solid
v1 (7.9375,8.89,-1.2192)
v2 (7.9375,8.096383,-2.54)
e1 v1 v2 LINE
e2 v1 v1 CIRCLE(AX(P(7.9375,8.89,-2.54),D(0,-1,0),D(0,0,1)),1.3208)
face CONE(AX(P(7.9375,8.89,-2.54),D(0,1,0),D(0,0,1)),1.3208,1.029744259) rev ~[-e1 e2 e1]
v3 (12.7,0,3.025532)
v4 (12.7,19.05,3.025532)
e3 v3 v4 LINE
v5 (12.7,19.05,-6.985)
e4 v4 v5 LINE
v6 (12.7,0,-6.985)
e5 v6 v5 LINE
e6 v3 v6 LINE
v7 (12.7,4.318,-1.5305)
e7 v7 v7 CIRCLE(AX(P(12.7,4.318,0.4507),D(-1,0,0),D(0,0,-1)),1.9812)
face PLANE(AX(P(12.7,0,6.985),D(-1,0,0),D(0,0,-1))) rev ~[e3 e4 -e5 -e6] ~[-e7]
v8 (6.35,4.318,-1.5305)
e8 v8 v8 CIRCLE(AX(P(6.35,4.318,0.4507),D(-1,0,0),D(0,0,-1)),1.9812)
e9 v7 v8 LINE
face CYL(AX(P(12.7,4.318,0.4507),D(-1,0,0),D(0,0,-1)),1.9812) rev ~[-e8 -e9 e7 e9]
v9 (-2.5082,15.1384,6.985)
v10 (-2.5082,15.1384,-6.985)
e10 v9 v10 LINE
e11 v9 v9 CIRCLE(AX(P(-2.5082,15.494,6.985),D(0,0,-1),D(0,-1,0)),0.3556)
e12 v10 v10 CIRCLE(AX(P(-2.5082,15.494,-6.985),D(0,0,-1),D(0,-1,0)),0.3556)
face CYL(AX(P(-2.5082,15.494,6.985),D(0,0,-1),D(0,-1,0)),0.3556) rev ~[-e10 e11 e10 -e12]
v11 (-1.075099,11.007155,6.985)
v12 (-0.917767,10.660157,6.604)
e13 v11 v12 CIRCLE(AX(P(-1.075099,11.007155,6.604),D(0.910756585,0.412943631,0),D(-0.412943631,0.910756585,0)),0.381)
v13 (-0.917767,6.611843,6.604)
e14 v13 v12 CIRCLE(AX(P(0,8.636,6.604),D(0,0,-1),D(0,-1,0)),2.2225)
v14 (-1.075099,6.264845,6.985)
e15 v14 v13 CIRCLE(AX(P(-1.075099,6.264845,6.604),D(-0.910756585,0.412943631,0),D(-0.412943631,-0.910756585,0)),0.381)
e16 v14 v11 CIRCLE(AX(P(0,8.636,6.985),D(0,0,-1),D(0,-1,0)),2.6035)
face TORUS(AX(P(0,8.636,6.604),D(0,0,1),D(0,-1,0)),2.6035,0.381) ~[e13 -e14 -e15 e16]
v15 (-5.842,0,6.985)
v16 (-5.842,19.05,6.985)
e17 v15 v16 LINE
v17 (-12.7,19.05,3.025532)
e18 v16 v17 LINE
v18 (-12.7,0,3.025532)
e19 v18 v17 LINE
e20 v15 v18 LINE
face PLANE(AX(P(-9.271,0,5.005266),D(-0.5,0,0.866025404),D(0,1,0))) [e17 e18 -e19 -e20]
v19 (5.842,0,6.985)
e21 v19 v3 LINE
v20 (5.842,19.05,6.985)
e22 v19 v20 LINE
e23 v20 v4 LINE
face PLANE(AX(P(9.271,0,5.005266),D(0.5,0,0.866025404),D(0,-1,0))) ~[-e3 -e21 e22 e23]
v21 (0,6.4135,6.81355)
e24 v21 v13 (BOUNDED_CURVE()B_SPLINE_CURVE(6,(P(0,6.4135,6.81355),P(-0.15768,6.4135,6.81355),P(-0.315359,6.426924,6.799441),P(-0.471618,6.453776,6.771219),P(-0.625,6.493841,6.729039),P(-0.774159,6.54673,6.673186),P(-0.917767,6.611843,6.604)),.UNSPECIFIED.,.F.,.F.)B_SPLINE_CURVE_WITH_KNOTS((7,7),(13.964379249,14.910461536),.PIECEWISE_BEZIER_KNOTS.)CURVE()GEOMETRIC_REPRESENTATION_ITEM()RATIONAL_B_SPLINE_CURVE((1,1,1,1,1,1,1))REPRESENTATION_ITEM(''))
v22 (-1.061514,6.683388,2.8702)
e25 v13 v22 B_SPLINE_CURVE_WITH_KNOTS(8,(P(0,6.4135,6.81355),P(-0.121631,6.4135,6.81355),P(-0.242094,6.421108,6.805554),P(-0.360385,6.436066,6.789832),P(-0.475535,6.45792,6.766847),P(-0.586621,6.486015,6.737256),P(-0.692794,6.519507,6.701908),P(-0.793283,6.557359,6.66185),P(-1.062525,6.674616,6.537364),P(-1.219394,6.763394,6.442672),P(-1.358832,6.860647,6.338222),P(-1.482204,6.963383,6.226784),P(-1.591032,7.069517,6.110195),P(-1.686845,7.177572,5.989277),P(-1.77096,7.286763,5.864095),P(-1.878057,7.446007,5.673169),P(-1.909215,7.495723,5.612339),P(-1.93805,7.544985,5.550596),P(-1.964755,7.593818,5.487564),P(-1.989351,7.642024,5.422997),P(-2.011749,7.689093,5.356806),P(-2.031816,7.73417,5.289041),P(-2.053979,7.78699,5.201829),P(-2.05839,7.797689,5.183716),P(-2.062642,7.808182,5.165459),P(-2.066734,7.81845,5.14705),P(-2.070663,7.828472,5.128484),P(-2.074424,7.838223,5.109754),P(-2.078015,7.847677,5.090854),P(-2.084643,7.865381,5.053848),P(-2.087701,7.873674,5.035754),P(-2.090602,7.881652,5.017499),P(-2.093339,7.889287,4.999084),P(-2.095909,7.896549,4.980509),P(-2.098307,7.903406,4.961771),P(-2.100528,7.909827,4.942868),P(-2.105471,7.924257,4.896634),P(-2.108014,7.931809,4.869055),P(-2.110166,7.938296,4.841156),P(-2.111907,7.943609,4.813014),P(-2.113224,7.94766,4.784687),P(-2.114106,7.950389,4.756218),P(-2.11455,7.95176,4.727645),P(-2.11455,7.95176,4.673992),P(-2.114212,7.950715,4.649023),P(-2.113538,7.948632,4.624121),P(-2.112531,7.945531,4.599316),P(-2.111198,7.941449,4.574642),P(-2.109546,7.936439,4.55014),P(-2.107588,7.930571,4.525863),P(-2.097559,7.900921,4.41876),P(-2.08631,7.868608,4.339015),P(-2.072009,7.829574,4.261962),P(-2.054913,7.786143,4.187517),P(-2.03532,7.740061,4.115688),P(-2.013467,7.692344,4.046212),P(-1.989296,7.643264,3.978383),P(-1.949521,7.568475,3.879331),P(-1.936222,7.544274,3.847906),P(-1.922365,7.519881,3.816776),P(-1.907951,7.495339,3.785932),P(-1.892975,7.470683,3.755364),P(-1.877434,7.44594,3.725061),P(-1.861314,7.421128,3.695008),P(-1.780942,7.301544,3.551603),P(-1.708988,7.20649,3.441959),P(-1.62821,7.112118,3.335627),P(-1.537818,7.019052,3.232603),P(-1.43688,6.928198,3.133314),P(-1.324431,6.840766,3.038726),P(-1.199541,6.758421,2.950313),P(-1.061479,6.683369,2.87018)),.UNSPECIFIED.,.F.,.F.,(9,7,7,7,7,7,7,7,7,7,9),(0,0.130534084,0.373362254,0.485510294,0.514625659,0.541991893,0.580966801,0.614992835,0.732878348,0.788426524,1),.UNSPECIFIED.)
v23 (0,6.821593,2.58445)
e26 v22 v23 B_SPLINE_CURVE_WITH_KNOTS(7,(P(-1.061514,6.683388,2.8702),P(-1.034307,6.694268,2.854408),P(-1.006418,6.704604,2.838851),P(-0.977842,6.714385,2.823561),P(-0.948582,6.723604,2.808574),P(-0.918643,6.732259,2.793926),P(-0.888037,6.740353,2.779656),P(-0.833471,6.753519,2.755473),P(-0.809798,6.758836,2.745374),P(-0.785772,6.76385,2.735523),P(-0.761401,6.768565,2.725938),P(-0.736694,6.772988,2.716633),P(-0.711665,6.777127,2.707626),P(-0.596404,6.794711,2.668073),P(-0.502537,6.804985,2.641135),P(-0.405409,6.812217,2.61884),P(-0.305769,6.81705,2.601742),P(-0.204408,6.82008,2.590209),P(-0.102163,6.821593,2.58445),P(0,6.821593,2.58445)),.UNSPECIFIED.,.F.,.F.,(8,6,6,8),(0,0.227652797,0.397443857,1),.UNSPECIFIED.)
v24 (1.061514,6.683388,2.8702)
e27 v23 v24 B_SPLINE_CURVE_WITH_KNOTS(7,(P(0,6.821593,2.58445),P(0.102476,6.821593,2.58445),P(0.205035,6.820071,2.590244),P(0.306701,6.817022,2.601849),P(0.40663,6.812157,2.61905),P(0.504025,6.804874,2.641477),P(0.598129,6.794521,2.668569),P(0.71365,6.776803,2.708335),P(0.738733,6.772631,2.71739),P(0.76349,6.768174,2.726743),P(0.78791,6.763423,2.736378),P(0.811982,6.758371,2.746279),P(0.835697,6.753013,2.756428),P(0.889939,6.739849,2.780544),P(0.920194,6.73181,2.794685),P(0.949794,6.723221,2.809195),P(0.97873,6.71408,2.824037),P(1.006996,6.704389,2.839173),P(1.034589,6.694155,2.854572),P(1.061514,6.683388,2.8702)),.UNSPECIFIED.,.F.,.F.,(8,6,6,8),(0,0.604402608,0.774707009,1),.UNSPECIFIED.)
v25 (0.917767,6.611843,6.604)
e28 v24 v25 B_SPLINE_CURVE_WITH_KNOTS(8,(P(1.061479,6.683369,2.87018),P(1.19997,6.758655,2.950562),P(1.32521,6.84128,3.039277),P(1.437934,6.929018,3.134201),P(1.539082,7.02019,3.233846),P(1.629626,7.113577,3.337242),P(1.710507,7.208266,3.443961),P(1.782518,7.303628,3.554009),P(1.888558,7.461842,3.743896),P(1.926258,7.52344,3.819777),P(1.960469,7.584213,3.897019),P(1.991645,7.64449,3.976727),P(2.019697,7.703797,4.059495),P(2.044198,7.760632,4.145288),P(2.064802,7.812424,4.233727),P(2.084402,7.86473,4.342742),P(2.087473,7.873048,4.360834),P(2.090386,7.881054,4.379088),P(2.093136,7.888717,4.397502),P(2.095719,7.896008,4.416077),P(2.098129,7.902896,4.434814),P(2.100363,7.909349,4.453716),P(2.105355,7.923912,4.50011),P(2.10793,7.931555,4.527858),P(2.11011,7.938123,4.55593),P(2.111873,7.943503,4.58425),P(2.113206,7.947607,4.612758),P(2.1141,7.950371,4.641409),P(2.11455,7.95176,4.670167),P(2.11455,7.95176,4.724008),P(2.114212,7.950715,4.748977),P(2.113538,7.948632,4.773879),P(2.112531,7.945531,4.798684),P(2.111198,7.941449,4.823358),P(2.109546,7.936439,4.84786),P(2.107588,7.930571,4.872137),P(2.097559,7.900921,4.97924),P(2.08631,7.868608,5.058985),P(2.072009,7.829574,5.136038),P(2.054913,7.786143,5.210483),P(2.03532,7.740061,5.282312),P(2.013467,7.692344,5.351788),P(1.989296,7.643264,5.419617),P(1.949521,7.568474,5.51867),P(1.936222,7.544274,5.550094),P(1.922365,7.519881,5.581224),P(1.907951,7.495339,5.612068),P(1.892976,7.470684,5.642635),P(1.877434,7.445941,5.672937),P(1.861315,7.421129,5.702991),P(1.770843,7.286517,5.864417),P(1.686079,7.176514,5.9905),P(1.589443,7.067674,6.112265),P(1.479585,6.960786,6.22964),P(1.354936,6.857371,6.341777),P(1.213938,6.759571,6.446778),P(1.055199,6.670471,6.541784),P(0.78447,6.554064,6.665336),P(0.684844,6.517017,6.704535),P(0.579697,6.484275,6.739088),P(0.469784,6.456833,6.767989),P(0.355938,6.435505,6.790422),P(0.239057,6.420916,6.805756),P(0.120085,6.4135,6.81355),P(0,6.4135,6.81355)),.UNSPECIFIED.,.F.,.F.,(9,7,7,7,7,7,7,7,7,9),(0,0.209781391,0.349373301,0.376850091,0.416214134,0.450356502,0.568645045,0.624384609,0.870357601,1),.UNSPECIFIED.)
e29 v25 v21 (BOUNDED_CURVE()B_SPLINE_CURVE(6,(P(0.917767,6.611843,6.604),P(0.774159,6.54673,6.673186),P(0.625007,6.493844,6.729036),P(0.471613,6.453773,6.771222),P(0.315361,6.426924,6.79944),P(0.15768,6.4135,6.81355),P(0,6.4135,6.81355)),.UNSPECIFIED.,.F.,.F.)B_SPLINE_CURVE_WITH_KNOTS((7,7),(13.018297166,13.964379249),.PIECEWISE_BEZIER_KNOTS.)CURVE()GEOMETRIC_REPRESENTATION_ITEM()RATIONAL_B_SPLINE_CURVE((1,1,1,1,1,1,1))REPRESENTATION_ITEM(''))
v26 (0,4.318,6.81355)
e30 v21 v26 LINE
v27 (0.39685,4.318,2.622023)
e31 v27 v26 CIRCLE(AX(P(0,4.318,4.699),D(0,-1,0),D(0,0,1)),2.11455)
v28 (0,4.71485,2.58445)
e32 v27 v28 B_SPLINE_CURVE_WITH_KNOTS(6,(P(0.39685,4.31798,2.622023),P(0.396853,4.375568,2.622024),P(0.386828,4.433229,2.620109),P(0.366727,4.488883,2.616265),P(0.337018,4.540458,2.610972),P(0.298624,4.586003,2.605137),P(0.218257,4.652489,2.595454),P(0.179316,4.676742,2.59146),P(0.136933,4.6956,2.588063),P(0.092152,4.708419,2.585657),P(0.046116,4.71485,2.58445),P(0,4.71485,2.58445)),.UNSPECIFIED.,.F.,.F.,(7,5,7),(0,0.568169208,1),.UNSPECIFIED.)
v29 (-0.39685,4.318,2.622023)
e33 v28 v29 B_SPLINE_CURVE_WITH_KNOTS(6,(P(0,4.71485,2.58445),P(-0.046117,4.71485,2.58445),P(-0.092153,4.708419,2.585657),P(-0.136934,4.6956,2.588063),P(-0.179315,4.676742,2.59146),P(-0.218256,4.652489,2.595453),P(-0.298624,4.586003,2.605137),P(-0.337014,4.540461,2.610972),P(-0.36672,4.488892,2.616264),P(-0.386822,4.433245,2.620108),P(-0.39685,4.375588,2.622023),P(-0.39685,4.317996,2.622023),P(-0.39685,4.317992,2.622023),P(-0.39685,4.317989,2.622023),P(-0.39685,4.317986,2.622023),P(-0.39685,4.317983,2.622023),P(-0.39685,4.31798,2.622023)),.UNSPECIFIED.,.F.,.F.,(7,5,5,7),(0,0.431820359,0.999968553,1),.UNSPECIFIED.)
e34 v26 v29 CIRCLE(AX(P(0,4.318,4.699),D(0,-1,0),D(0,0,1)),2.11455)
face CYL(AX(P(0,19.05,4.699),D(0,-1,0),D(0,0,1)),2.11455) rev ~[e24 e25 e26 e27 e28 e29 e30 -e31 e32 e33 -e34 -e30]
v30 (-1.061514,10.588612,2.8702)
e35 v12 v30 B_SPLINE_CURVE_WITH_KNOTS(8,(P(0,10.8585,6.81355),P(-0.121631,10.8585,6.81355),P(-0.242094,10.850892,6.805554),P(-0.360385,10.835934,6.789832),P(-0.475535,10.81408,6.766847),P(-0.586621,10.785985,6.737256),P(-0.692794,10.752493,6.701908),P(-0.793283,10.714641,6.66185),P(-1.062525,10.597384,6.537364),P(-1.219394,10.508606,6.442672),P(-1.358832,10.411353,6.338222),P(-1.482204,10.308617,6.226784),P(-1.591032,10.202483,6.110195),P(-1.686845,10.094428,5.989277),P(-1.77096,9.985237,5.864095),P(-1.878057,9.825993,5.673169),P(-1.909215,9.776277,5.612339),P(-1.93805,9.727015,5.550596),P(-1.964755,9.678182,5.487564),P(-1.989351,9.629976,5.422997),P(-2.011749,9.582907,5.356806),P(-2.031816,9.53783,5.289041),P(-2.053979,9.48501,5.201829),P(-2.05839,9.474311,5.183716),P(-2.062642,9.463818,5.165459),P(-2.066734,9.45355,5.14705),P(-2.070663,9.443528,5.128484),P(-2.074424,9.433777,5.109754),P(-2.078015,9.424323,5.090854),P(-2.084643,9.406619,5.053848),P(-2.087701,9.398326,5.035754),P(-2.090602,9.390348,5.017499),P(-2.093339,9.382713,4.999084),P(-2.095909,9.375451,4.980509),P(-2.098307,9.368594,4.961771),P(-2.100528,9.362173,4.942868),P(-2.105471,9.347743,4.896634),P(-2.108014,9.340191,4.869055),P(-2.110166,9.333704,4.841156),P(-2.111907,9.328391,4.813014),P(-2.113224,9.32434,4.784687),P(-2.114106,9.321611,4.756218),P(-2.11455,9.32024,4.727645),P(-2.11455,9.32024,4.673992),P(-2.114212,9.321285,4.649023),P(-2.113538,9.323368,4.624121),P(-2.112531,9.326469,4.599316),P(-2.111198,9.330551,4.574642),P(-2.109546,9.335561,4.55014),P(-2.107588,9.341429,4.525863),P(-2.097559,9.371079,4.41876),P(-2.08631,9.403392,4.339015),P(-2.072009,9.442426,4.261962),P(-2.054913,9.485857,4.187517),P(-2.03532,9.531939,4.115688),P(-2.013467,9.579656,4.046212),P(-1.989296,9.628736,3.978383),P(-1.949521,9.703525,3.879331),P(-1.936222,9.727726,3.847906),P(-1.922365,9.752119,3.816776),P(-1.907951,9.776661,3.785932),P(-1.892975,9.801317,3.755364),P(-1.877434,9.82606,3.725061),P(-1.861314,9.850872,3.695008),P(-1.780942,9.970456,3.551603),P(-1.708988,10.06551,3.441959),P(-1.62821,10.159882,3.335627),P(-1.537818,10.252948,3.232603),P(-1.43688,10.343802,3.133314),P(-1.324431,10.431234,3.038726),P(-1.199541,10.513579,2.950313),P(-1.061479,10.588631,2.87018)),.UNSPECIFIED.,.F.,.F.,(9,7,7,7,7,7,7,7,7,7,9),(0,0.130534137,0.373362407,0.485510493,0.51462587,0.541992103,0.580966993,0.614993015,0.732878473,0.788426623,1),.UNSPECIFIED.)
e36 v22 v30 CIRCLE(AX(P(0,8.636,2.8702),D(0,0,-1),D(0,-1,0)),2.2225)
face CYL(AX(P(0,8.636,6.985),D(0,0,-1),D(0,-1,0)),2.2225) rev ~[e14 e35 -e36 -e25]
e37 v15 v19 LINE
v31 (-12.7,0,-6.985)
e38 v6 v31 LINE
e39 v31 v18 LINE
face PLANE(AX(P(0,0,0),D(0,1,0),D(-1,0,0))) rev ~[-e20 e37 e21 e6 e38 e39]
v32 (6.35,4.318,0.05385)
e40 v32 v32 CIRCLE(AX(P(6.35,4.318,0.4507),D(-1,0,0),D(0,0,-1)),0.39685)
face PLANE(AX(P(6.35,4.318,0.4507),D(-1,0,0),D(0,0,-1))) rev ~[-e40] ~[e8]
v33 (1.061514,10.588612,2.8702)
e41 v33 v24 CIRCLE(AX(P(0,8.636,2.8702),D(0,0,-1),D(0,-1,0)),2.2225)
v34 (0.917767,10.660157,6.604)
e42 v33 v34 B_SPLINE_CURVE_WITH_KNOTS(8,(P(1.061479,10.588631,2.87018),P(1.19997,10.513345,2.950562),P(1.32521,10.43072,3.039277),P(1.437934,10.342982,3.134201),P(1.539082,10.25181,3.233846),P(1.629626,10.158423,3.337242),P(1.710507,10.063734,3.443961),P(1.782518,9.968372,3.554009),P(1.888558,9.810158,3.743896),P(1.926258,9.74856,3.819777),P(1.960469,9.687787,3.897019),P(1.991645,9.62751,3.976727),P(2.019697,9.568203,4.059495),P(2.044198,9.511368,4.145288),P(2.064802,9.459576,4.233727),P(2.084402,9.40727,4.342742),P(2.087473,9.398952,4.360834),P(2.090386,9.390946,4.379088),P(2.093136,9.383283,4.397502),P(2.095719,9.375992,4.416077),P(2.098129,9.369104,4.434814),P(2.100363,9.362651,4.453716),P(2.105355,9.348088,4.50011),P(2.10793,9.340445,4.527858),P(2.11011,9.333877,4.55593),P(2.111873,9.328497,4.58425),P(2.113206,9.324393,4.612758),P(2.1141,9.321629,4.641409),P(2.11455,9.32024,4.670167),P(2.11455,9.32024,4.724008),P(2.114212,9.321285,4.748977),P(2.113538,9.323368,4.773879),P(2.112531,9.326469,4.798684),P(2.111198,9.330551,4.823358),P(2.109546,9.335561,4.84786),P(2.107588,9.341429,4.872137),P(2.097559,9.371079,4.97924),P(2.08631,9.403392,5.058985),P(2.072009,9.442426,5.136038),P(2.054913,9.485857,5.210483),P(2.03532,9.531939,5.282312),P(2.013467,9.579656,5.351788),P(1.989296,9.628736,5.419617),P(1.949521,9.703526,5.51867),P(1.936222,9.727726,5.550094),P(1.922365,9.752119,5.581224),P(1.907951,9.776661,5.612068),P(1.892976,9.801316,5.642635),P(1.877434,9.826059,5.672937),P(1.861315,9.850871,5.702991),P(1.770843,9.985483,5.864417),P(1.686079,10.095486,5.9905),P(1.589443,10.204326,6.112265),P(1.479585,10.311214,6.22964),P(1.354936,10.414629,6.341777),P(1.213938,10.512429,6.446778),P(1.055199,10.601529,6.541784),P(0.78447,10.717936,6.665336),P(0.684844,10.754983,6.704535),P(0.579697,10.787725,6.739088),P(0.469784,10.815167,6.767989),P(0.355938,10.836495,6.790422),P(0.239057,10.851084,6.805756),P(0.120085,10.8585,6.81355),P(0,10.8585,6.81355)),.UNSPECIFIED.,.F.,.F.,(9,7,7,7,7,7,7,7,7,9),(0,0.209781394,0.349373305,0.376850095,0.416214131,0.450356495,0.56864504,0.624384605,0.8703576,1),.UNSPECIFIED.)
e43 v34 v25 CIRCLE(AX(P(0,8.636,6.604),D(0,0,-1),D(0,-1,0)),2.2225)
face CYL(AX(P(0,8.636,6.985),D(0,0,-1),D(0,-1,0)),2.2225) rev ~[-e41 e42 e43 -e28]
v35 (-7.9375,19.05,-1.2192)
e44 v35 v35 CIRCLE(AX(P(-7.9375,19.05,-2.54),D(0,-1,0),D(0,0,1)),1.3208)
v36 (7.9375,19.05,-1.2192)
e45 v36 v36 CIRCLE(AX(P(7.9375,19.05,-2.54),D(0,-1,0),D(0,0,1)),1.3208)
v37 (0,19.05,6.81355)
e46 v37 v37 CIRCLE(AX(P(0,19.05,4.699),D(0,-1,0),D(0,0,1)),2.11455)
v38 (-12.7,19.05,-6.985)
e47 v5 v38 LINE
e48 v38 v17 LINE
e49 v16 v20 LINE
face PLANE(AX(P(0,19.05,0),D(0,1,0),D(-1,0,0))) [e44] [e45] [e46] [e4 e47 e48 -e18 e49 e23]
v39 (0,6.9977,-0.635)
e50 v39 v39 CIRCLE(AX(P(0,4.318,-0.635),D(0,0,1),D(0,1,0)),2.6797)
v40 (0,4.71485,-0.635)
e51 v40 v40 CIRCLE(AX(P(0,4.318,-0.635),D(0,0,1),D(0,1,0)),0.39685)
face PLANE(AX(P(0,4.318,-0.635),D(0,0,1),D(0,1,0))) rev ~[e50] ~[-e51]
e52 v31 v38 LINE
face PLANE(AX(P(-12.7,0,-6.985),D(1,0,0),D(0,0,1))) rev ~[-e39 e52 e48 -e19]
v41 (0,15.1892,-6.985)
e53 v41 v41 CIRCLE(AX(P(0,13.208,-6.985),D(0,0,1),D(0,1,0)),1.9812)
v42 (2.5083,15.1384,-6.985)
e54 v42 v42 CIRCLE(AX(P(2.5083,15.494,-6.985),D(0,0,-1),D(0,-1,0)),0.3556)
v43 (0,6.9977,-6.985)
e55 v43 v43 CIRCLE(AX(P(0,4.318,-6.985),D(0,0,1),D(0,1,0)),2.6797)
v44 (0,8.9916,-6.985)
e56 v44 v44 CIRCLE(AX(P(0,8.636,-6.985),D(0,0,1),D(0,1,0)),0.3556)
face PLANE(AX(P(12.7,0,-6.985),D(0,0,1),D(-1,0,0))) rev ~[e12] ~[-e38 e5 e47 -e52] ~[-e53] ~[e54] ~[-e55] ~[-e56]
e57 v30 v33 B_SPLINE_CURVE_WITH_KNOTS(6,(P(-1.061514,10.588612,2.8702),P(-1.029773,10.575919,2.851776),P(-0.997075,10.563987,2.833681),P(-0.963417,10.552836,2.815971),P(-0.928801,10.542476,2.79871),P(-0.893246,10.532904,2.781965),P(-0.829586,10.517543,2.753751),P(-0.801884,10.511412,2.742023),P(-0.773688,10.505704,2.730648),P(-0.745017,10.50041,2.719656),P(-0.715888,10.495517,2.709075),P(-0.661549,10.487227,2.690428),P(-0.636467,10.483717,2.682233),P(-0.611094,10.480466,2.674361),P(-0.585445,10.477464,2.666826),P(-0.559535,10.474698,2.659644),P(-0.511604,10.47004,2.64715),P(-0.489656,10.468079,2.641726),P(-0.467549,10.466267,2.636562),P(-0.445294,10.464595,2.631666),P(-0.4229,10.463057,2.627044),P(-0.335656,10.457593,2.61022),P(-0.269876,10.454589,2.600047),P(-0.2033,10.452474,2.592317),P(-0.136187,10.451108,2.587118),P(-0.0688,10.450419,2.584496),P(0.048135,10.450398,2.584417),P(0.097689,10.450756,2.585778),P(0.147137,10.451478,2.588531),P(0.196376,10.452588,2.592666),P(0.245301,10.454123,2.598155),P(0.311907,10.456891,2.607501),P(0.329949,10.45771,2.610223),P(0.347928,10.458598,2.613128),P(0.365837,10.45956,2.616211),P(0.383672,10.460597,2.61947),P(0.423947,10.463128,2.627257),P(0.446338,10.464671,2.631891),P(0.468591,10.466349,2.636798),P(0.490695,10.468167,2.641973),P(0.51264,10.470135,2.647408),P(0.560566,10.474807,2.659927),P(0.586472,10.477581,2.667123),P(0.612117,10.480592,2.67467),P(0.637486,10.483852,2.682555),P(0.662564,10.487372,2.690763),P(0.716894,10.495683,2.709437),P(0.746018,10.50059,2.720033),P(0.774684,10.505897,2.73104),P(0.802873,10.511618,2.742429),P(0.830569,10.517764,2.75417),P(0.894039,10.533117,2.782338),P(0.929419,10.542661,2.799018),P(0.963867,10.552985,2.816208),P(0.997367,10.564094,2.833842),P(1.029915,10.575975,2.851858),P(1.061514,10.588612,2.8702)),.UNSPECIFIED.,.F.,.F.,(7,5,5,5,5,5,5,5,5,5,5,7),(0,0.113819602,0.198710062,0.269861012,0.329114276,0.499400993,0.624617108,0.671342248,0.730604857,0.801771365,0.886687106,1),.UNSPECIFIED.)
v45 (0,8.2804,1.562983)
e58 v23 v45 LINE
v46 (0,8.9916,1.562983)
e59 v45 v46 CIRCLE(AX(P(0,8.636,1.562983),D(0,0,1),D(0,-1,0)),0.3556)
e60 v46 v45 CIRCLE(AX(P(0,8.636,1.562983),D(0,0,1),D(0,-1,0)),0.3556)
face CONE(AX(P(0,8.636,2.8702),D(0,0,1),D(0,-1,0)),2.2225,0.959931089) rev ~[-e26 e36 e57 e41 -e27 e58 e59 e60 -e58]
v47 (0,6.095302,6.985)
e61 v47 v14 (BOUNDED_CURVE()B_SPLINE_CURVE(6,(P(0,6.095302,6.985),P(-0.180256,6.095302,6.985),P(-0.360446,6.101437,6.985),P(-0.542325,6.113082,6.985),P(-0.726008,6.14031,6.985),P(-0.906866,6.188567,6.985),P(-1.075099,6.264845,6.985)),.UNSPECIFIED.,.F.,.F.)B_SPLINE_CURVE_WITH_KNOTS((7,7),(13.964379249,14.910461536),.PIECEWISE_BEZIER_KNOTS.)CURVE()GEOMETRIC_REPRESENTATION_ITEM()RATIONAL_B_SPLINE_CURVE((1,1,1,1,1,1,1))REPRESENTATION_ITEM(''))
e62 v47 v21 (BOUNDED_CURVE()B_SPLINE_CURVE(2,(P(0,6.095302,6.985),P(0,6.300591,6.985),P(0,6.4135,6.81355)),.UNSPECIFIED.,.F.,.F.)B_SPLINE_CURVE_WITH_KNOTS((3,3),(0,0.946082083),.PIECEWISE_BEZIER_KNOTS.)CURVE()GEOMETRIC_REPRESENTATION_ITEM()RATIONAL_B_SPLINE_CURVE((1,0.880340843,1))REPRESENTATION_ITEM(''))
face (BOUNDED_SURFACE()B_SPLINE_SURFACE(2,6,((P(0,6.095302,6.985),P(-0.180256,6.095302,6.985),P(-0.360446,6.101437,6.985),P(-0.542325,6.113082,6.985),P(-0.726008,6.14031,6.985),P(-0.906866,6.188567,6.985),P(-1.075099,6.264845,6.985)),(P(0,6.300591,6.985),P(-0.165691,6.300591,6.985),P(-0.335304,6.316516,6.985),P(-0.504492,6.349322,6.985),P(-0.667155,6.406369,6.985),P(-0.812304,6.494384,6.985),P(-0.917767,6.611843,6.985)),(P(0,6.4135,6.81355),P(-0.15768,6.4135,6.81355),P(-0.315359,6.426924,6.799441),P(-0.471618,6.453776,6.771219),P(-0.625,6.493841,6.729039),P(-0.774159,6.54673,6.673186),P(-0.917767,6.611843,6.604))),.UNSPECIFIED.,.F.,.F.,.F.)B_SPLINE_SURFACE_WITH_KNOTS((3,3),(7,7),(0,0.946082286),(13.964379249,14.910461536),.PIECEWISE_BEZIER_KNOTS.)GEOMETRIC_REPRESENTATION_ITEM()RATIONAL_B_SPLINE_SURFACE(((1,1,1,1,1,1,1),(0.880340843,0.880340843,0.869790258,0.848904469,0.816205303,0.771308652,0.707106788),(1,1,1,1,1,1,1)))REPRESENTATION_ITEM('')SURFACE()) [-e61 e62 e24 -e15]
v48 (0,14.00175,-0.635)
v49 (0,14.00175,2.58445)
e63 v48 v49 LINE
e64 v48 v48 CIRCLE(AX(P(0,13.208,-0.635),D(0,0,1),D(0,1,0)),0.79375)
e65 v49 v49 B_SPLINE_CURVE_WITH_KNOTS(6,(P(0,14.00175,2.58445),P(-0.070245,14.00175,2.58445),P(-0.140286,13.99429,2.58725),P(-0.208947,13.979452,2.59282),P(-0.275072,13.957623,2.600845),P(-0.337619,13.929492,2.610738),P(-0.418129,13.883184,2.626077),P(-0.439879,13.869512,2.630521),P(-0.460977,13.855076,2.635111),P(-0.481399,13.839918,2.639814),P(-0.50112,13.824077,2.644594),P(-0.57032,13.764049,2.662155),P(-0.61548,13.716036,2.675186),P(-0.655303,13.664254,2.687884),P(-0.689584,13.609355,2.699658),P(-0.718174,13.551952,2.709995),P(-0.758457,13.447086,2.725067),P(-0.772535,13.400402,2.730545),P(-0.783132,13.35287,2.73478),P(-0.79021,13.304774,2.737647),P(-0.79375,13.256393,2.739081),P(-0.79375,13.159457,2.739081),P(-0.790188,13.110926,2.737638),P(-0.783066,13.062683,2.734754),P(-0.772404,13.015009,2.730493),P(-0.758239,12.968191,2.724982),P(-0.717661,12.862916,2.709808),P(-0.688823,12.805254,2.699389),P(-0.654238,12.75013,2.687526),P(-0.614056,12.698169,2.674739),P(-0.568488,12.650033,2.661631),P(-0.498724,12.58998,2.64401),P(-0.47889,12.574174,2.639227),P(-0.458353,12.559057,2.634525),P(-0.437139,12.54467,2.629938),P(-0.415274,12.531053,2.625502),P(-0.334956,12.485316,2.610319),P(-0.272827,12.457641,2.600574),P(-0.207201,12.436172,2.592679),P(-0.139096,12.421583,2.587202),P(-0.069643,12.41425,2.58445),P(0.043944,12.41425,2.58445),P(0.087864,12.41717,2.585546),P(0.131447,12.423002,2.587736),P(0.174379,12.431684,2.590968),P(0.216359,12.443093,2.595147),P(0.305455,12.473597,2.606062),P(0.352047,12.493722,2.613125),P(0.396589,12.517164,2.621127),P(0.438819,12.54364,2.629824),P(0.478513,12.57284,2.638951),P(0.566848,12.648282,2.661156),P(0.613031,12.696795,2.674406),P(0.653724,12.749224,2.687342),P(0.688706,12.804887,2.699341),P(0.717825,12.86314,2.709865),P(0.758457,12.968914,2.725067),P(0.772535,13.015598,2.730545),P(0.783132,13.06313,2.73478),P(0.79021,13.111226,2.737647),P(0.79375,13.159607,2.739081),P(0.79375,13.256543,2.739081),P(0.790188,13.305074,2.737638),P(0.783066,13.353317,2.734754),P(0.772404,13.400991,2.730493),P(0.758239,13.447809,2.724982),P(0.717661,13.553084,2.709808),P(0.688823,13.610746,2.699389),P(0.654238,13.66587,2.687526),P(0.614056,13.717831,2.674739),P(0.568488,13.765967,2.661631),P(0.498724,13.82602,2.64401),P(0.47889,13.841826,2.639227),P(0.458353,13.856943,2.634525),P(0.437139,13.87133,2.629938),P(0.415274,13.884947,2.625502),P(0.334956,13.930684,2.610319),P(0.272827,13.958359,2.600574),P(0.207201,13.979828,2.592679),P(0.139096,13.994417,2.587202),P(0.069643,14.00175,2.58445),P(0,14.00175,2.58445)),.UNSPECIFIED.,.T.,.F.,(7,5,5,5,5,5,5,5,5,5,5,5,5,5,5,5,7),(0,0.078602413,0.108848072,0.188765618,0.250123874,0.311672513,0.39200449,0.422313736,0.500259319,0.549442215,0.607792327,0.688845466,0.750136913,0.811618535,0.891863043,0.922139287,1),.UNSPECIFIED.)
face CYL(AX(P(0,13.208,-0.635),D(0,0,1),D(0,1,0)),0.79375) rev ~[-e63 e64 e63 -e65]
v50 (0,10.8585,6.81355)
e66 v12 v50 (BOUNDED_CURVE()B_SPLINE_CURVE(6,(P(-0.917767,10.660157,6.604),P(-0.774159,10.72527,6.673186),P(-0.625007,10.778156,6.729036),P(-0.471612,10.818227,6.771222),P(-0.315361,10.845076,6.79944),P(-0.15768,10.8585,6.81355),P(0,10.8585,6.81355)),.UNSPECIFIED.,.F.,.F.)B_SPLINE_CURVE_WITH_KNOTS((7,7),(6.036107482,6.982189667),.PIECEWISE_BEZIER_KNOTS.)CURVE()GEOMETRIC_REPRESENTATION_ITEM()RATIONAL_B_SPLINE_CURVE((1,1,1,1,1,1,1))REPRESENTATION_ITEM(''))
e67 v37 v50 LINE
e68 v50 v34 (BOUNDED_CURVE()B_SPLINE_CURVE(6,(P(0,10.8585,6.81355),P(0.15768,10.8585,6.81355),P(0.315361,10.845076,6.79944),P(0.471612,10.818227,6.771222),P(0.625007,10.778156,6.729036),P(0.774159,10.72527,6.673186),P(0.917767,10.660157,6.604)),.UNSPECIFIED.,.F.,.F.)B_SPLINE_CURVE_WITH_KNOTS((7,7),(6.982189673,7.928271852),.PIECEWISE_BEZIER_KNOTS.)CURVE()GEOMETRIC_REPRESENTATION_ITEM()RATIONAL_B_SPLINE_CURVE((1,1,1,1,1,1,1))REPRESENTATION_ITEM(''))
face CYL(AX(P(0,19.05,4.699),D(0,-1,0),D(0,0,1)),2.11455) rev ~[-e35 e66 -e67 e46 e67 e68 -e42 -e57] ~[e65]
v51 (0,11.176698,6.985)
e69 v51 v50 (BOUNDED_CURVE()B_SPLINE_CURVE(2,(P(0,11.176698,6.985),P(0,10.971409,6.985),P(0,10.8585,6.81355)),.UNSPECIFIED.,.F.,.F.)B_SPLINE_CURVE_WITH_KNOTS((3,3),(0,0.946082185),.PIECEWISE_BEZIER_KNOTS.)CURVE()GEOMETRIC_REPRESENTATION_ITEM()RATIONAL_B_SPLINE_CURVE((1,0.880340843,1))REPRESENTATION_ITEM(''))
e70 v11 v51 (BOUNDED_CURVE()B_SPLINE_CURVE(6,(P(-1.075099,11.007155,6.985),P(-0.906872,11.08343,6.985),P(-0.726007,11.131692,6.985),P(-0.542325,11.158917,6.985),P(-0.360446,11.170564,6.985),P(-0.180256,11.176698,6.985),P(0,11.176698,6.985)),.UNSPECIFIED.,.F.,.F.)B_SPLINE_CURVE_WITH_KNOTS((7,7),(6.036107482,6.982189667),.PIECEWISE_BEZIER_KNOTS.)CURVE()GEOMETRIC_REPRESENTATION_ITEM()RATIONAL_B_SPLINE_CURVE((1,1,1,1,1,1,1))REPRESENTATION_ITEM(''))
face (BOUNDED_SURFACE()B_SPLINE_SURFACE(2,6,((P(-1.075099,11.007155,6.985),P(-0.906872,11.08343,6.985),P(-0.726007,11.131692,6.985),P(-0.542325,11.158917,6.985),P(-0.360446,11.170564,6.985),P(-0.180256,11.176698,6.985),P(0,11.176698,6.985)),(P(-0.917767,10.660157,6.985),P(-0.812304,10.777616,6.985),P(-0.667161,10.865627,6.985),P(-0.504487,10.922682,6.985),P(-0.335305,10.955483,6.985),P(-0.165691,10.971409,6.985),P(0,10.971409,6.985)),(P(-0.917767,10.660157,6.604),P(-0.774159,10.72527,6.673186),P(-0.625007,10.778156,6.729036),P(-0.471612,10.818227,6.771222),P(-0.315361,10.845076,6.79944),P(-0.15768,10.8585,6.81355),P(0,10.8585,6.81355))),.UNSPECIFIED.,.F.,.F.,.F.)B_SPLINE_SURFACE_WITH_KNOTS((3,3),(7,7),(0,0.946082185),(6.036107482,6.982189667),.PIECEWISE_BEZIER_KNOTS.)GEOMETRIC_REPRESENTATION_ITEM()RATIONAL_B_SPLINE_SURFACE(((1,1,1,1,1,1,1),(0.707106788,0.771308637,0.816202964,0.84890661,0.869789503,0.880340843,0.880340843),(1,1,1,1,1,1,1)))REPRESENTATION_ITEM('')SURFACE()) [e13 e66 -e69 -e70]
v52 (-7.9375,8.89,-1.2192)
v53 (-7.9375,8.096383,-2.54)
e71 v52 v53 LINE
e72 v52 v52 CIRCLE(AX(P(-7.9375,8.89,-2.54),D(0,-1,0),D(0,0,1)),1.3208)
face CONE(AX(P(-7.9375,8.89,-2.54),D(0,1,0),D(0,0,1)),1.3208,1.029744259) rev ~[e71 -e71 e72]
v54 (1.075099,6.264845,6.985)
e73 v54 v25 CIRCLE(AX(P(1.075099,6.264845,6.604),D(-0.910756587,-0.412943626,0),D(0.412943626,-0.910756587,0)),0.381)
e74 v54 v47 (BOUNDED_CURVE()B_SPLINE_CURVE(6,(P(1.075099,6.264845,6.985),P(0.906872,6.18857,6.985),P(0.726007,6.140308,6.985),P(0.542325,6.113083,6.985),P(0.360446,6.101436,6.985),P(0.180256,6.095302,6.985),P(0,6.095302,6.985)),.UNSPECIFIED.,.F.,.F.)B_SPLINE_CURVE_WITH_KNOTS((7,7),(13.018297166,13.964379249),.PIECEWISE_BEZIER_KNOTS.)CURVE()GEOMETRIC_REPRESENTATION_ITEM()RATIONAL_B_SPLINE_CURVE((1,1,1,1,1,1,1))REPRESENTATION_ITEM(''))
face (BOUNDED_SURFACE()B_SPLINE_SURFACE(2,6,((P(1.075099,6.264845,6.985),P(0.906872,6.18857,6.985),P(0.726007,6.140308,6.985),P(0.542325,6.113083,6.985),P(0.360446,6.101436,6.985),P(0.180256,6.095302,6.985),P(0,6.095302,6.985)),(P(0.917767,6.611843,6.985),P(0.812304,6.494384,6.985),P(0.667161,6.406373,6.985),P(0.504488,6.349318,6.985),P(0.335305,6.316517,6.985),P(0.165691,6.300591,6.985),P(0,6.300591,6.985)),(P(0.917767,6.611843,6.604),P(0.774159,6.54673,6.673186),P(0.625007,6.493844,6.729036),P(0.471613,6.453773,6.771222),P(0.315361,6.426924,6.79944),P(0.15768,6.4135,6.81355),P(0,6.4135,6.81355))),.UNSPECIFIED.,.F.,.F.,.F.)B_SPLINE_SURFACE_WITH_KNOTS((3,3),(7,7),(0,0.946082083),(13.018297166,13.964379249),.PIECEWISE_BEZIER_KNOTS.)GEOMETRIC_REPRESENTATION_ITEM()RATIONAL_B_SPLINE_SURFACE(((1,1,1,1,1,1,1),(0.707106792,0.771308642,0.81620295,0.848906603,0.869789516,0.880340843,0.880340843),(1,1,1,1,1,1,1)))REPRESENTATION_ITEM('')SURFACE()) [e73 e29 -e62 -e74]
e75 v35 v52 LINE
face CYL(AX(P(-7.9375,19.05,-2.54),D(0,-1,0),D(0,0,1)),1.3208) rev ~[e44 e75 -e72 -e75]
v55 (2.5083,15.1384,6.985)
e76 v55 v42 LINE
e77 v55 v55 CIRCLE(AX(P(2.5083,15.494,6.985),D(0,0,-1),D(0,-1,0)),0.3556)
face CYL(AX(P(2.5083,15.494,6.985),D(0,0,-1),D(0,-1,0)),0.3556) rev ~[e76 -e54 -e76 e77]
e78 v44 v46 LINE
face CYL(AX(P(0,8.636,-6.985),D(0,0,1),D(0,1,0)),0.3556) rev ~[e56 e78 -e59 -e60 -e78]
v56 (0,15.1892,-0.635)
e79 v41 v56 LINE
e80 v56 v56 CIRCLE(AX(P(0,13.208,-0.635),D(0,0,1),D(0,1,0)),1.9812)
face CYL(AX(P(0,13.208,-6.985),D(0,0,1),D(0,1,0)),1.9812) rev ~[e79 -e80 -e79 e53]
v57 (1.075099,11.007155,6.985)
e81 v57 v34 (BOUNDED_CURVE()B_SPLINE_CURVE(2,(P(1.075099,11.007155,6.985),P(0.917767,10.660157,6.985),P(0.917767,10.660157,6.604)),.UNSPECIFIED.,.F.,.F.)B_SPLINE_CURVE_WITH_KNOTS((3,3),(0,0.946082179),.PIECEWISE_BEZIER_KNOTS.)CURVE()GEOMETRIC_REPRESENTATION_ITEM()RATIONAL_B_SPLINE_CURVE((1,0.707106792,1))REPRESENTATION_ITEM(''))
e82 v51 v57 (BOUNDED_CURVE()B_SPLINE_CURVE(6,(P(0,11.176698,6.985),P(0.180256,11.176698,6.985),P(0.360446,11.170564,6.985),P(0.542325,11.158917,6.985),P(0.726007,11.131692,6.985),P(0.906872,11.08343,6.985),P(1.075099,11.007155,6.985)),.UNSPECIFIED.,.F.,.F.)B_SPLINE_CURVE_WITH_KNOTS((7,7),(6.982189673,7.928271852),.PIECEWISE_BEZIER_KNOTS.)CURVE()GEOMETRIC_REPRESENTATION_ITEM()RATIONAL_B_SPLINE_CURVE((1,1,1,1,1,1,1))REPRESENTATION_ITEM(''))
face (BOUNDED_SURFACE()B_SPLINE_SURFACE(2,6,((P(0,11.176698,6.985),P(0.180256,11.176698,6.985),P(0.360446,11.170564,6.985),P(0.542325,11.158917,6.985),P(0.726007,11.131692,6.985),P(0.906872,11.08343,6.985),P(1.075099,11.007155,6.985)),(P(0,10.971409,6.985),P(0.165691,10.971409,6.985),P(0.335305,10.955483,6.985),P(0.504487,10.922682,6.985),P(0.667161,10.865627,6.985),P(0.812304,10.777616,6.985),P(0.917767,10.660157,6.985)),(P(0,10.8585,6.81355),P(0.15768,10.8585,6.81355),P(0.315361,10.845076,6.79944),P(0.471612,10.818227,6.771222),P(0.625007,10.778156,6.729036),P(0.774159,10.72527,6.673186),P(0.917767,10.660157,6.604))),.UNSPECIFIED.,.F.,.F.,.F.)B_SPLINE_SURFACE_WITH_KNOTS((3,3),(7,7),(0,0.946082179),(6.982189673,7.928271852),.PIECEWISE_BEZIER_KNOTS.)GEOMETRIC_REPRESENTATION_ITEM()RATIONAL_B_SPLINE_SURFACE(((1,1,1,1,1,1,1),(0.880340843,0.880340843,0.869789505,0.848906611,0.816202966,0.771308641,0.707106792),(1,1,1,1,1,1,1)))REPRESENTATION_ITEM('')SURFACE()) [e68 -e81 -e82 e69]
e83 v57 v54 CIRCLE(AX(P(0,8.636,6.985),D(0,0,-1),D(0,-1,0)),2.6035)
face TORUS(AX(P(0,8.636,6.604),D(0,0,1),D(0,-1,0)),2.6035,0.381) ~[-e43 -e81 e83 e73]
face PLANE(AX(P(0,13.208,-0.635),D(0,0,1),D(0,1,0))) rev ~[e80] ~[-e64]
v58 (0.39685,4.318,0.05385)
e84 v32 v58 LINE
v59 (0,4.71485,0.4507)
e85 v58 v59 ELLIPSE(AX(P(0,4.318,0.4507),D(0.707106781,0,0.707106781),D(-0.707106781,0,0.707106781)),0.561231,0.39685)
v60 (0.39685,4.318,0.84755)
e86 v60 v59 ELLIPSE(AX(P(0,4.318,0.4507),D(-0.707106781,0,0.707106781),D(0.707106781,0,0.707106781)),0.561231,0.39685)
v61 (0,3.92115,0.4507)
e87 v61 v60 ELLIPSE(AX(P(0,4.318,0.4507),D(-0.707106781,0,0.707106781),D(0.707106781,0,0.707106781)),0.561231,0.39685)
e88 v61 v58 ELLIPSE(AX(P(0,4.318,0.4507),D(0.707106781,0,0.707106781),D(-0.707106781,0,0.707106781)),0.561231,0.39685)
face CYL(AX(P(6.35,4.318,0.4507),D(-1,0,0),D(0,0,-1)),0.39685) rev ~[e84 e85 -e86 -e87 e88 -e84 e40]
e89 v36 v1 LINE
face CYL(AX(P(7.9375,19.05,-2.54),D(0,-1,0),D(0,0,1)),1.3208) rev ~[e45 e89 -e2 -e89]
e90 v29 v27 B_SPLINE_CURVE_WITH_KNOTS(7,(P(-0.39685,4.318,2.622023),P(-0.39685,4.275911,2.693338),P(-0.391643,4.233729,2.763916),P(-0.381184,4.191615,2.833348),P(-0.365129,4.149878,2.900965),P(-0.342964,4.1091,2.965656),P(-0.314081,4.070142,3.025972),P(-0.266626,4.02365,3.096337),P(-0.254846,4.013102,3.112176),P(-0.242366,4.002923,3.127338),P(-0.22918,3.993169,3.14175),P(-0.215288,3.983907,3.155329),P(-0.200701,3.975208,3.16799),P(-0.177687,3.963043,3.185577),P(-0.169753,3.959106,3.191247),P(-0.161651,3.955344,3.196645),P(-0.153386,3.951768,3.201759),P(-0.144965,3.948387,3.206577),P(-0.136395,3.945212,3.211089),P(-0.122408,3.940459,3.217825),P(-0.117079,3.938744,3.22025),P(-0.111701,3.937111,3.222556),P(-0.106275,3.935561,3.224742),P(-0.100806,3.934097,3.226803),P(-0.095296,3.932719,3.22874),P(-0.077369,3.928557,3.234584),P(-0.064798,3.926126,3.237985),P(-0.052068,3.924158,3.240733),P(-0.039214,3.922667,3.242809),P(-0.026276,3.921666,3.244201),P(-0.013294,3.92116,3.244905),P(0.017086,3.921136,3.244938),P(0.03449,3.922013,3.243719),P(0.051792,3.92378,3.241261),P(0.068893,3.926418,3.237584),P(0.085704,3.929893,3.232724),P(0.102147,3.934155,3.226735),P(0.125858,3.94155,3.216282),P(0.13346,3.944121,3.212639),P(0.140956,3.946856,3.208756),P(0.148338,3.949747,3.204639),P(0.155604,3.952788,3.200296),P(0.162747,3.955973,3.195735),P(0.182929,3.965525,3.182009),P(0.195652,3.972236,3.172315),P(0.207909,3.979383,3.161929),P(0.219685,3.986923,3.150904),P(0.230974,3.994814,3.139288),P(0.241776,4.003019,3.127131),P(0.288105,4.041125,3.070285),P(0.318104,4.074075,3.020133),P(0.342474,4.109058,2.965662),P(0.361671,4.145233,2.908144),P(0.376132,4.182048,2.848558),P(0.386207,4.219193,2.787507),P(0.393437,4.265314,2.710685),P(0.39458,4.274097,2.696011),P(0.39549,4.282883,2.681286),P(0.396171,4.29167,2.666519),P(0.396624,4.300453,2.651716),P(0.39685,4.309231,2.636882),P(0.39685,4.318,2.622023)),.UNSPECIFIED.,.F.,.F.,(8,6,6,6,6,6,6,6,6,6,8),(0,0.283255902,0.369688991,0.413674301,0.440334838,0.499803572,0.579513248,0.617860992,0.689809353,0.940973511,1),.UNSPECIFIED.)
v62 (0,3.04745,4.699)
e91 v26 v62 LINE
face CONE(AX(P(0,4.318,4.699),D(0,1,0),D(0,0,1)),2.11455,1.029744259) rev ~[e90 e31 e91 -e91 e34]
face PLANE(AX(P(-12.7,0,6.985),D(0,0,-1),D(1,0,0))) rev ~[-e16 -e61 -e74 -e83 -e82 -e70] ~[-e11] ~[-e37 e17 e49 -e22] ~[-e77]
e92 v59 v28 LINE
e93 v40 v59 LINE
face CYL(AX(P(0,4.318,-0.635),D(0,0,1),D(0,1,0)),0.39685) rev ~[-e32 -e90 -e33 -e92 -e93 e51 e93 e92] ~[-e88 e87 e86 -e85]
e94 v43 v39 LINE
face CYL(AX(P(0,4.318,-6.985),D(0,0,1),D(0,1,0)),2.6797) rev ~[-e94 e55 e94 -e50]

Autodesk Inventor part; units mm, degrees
ref_plane "YZ Plane" through (0, 0, 0) normal (1, 0, 0) x (0, 1, 0)
ref_plane "XZ Plane" through (0, 0, 0) normal (0, 1, 0) x (-1, 0, 0)
ref_plane "XY Plane" through (0, 0, 0) normal (0, 0, 1) x (1, 0, 0)
sketch "Sketch1" plane through (0, 0, 0) normal (0, 1, 0) x (-1, 0, 0)
  line L0 (12.7, 6.985) -> (-12.7, 6.985)
  line L1 (-12.7, 6.985) -> (-12.7, -6.985)
  line L2 (-12.7, -6.985) -> (12.7, -6.985)
  line L3 (12.7, -6.985) -> (12.7, 6.985)
  point P0 (0, 0)
  dimension "depth" = 25.4
  dimension "width" = 13.97
  dimension "d5" = 6.985
  dimension "d6" = 12.7
extrude "body" add sketch "Sketch1" along normal blind 19.05
sketch "Sketch3" plane through (12.7, 0, 6.985) normal (1, 0, 0) x (0, 0, -1)
  point P0 (6.985, 0)
sketch "Sketch5" plane through (0, 19.05, 0) normal (0, 1, 0) x (1, 0, 0)
  line L0 (-12.7, -6.985) -> (12.7, -6.985) projected
  point P0 (0, 0)
  point P1 (0, -4.699)
  dimension "d25" = 0
  dimension "d34" = 6.985
  dimension "hole_radius" = 2.286
hole "main odor hole" at (0, 19.05, 4.699) direction (0, -1, 0) diameter 4.2291 depth 14.732 tip angle 118
sketch "Sketch6" plane through (-12.7, 0, 6.985) normal (0, 0, 1) x (1, 0, 0)
  line L0 (0, 0) -> (25.4, 0) projected
  point P0 (12.7, 0)
  point P1 (15.2082, 15.494)
  point P2 (10.1917, 15.494)
  dimension "d126" = 15.494
  dimension "d127" = 5.0165
  dimension "d128" = 2.5082
hole "lickports" at (2.5083, 15.494, 6.985) at (-2.5082, 15.494, 6.985) direction (0, 0, -1) diameter 0.7112 end through all
sketch "Sketch7" plane through (12.7, 0, -6.985) normal (0, 0, -1) x (-1, 0, 0)
  line L0 (14.8146, 4.318) -> (10.5855, 4.318) projected
  point P0 (12.7, 0)
  point P1 (12.7, 4.318)
hole "fitting threads" at (0, 4.318, -6.985) direction (0, 0, 1) diameter 5.3594 depth 6.35 thread size "1/4-28 UNF" class "2B" standard "ANSI Unified Screw Threads"
sketch "Sketch8" plane through (0, 4.318, -0.635) normal (0, 0, -1) x (-1, 0, 0)
  line L0 (2.1146, 0) -> (-2.1145, 0) projected
  point P0 (0, -4.318)
  point P1 (0, 0)
hole "input odor hole" at (0, 4.318, -0.635) direction (0, 0, 1) diameter 0.7937 depth 5.08
sketch "Sketch9" plane through (-12.7, 0, 6.985) normal (0, 0, 1) x (1, 0, 0)
  line L0 (0, 0) -> (25.4, 0) projected
  point P0 (12.7, 0)
  point P1 (12.7, 8.636)
  point P2 (12.7, 0)
  dimension "nose_hole" = 8.636
hole "nose_hole" at (0, 8.636, 6.985) direction (0, 0, -1) diameter 4.445 depth 4.1148 tip angle 110
sketch "Sketch10" plane through (0, 19.05, 0) normal (0, 1, 0) x (1, 0, 0)
  point P0 (0, 0)
  point P1 (7.9375, 2.54)
  point P2 (-7.9375, 2.54)
  dimension "d70" = 2.54
  dimension "d116" = 15.875
  dimension "d117" = 7.9375
hole "mount holes" at (7.9375, 19.05, -2.54) at (-7.9375, 19.05, -2.54) direction (0, -1, 0) diameter 2.6416 depth 10.16 tip angle 118 thread size "6-32 UNC" class "2B" standard "ANSI Unified Screw Threads"
sketch "Sketch11" plane through (12.7, 0, -6.985) normal (0, 0, -1) x (-1, 0, 0)
  line L0 (0, 19.05) -> (25.4, 19.05) projected
  line L1 (0, 0) -> (25.4, 0) projected
  point P0 (12.7, 0)
  point P1 (12.7, 13.208)
  point P2 (12.7, 0)
  dimension "vacuum_height" = 5.842
hole "exhaust threading" at (0, 13.208, -6.985) direction (0, 0, 1) diameter 3.9624 depth 6.35 thread size "10-32 UNF" class "2B" standard "ANSI Unified Screw Threads"
sketch "Sketch12" plane through (0, 13.208, -0.635) normal (0, 0, -1) x (-1, 0, 0)
  line L0 (-12.7, -13.208) -> (12.7, -13.208) projected
  line L1 (-12.7, 5.842) -> (12.7, 5.842) projected
  point P0 (0, -13.208)
  point P1 (0, 0)
  point P2 (0, -13.208)
  dimension "d87" = 5.842
hole "exhaust hole" at (0, 13.208, -0.635) direction (0, 0, 1) diameter 1.5875 depth 5.08
sketch "Sketch16" plane through (12.7, 0, -6.985) normal (0, 0, -1) x (-1, 0, 0)
  circle A0 centre (12.7, 8.636) radius 2.9083 projected
  line L0 (15.6083, 8.636) -> (12.7, 8.636)
  point P0 (12.7, 0)
hole "sniff_monitoring_hole" at (0, 8.636, -6.985) direction (0, 0, 1) diameter 0.7112 end through all
fillet "nose hole fillet" [suppressed]
sketch "Sketch25" plane through (12.7, 0, 6.985) normal (1, 0, 0) x (0, 0, -1)
  line L0 (7.62, 1.6383) -> (7.62, 6.9977) projected
  point P0 (6.985, 0)
  point P1 (7.62, 4.318)
  point P2 (6.5343, 4.318)
  point P3 (4.363, 4.318)
  dimension "d147" = 3.257
  dimension "d148" = 1.0857
hole "vac fitting" at (12.7, 4.318, 0.4507) direction (-1, 0, 0) diameter 3.9624 depth 6.35 thread size "10-32 UNF" class "2B" standard "ANSI Unified Screw Threads"
hole "vac hole" at (6.35, 4.318, 0.4507) direction (-1, 0, 0) diameter 0.7937 depth 6.35 tip angle 118
chamfer "front panel chamfer" distance 6.858 angle 30 2 edges at (12.7, 9.525, 6.985) (-12.7, 9.525, 6.985) measured on face at (9.2021, 9.318, 6.985)
fillet "Fillet4" radius 0.381 1 edges at (0, 10.8585, 6.985)
equation "\"d5\" = 0.5 * width"
equation "\"d6\" = 0.5 * depth"
equation "\"d27\" = 1.85 * hole_radius"
equation "\"d29\" = 2 * hole_radius"
equation "\"d127\" = 2 * hole_radius + 0.625 * lick_port_diam"
equation "\"d128\" = 0.5 * d127"
equation "\"d66\" = 1.8 * hole_radius"
equation "\"d117\" = 0.5 * d116"
equation "\"d87\" = vacuum_height"
equation "\"d148\" = 0.333333 * d147"
equation "\"d150\" = vac_thread_depth"
equation "\"d154\" = vac_fit_depth"
equation "\"vac_thread_depth\" = 5.08"
equation "\"vac_fit_depth\" = 6.35"
equation "\"lick_port_diam\" = 0.7112"
properties part number "odorport_final_wvac"
